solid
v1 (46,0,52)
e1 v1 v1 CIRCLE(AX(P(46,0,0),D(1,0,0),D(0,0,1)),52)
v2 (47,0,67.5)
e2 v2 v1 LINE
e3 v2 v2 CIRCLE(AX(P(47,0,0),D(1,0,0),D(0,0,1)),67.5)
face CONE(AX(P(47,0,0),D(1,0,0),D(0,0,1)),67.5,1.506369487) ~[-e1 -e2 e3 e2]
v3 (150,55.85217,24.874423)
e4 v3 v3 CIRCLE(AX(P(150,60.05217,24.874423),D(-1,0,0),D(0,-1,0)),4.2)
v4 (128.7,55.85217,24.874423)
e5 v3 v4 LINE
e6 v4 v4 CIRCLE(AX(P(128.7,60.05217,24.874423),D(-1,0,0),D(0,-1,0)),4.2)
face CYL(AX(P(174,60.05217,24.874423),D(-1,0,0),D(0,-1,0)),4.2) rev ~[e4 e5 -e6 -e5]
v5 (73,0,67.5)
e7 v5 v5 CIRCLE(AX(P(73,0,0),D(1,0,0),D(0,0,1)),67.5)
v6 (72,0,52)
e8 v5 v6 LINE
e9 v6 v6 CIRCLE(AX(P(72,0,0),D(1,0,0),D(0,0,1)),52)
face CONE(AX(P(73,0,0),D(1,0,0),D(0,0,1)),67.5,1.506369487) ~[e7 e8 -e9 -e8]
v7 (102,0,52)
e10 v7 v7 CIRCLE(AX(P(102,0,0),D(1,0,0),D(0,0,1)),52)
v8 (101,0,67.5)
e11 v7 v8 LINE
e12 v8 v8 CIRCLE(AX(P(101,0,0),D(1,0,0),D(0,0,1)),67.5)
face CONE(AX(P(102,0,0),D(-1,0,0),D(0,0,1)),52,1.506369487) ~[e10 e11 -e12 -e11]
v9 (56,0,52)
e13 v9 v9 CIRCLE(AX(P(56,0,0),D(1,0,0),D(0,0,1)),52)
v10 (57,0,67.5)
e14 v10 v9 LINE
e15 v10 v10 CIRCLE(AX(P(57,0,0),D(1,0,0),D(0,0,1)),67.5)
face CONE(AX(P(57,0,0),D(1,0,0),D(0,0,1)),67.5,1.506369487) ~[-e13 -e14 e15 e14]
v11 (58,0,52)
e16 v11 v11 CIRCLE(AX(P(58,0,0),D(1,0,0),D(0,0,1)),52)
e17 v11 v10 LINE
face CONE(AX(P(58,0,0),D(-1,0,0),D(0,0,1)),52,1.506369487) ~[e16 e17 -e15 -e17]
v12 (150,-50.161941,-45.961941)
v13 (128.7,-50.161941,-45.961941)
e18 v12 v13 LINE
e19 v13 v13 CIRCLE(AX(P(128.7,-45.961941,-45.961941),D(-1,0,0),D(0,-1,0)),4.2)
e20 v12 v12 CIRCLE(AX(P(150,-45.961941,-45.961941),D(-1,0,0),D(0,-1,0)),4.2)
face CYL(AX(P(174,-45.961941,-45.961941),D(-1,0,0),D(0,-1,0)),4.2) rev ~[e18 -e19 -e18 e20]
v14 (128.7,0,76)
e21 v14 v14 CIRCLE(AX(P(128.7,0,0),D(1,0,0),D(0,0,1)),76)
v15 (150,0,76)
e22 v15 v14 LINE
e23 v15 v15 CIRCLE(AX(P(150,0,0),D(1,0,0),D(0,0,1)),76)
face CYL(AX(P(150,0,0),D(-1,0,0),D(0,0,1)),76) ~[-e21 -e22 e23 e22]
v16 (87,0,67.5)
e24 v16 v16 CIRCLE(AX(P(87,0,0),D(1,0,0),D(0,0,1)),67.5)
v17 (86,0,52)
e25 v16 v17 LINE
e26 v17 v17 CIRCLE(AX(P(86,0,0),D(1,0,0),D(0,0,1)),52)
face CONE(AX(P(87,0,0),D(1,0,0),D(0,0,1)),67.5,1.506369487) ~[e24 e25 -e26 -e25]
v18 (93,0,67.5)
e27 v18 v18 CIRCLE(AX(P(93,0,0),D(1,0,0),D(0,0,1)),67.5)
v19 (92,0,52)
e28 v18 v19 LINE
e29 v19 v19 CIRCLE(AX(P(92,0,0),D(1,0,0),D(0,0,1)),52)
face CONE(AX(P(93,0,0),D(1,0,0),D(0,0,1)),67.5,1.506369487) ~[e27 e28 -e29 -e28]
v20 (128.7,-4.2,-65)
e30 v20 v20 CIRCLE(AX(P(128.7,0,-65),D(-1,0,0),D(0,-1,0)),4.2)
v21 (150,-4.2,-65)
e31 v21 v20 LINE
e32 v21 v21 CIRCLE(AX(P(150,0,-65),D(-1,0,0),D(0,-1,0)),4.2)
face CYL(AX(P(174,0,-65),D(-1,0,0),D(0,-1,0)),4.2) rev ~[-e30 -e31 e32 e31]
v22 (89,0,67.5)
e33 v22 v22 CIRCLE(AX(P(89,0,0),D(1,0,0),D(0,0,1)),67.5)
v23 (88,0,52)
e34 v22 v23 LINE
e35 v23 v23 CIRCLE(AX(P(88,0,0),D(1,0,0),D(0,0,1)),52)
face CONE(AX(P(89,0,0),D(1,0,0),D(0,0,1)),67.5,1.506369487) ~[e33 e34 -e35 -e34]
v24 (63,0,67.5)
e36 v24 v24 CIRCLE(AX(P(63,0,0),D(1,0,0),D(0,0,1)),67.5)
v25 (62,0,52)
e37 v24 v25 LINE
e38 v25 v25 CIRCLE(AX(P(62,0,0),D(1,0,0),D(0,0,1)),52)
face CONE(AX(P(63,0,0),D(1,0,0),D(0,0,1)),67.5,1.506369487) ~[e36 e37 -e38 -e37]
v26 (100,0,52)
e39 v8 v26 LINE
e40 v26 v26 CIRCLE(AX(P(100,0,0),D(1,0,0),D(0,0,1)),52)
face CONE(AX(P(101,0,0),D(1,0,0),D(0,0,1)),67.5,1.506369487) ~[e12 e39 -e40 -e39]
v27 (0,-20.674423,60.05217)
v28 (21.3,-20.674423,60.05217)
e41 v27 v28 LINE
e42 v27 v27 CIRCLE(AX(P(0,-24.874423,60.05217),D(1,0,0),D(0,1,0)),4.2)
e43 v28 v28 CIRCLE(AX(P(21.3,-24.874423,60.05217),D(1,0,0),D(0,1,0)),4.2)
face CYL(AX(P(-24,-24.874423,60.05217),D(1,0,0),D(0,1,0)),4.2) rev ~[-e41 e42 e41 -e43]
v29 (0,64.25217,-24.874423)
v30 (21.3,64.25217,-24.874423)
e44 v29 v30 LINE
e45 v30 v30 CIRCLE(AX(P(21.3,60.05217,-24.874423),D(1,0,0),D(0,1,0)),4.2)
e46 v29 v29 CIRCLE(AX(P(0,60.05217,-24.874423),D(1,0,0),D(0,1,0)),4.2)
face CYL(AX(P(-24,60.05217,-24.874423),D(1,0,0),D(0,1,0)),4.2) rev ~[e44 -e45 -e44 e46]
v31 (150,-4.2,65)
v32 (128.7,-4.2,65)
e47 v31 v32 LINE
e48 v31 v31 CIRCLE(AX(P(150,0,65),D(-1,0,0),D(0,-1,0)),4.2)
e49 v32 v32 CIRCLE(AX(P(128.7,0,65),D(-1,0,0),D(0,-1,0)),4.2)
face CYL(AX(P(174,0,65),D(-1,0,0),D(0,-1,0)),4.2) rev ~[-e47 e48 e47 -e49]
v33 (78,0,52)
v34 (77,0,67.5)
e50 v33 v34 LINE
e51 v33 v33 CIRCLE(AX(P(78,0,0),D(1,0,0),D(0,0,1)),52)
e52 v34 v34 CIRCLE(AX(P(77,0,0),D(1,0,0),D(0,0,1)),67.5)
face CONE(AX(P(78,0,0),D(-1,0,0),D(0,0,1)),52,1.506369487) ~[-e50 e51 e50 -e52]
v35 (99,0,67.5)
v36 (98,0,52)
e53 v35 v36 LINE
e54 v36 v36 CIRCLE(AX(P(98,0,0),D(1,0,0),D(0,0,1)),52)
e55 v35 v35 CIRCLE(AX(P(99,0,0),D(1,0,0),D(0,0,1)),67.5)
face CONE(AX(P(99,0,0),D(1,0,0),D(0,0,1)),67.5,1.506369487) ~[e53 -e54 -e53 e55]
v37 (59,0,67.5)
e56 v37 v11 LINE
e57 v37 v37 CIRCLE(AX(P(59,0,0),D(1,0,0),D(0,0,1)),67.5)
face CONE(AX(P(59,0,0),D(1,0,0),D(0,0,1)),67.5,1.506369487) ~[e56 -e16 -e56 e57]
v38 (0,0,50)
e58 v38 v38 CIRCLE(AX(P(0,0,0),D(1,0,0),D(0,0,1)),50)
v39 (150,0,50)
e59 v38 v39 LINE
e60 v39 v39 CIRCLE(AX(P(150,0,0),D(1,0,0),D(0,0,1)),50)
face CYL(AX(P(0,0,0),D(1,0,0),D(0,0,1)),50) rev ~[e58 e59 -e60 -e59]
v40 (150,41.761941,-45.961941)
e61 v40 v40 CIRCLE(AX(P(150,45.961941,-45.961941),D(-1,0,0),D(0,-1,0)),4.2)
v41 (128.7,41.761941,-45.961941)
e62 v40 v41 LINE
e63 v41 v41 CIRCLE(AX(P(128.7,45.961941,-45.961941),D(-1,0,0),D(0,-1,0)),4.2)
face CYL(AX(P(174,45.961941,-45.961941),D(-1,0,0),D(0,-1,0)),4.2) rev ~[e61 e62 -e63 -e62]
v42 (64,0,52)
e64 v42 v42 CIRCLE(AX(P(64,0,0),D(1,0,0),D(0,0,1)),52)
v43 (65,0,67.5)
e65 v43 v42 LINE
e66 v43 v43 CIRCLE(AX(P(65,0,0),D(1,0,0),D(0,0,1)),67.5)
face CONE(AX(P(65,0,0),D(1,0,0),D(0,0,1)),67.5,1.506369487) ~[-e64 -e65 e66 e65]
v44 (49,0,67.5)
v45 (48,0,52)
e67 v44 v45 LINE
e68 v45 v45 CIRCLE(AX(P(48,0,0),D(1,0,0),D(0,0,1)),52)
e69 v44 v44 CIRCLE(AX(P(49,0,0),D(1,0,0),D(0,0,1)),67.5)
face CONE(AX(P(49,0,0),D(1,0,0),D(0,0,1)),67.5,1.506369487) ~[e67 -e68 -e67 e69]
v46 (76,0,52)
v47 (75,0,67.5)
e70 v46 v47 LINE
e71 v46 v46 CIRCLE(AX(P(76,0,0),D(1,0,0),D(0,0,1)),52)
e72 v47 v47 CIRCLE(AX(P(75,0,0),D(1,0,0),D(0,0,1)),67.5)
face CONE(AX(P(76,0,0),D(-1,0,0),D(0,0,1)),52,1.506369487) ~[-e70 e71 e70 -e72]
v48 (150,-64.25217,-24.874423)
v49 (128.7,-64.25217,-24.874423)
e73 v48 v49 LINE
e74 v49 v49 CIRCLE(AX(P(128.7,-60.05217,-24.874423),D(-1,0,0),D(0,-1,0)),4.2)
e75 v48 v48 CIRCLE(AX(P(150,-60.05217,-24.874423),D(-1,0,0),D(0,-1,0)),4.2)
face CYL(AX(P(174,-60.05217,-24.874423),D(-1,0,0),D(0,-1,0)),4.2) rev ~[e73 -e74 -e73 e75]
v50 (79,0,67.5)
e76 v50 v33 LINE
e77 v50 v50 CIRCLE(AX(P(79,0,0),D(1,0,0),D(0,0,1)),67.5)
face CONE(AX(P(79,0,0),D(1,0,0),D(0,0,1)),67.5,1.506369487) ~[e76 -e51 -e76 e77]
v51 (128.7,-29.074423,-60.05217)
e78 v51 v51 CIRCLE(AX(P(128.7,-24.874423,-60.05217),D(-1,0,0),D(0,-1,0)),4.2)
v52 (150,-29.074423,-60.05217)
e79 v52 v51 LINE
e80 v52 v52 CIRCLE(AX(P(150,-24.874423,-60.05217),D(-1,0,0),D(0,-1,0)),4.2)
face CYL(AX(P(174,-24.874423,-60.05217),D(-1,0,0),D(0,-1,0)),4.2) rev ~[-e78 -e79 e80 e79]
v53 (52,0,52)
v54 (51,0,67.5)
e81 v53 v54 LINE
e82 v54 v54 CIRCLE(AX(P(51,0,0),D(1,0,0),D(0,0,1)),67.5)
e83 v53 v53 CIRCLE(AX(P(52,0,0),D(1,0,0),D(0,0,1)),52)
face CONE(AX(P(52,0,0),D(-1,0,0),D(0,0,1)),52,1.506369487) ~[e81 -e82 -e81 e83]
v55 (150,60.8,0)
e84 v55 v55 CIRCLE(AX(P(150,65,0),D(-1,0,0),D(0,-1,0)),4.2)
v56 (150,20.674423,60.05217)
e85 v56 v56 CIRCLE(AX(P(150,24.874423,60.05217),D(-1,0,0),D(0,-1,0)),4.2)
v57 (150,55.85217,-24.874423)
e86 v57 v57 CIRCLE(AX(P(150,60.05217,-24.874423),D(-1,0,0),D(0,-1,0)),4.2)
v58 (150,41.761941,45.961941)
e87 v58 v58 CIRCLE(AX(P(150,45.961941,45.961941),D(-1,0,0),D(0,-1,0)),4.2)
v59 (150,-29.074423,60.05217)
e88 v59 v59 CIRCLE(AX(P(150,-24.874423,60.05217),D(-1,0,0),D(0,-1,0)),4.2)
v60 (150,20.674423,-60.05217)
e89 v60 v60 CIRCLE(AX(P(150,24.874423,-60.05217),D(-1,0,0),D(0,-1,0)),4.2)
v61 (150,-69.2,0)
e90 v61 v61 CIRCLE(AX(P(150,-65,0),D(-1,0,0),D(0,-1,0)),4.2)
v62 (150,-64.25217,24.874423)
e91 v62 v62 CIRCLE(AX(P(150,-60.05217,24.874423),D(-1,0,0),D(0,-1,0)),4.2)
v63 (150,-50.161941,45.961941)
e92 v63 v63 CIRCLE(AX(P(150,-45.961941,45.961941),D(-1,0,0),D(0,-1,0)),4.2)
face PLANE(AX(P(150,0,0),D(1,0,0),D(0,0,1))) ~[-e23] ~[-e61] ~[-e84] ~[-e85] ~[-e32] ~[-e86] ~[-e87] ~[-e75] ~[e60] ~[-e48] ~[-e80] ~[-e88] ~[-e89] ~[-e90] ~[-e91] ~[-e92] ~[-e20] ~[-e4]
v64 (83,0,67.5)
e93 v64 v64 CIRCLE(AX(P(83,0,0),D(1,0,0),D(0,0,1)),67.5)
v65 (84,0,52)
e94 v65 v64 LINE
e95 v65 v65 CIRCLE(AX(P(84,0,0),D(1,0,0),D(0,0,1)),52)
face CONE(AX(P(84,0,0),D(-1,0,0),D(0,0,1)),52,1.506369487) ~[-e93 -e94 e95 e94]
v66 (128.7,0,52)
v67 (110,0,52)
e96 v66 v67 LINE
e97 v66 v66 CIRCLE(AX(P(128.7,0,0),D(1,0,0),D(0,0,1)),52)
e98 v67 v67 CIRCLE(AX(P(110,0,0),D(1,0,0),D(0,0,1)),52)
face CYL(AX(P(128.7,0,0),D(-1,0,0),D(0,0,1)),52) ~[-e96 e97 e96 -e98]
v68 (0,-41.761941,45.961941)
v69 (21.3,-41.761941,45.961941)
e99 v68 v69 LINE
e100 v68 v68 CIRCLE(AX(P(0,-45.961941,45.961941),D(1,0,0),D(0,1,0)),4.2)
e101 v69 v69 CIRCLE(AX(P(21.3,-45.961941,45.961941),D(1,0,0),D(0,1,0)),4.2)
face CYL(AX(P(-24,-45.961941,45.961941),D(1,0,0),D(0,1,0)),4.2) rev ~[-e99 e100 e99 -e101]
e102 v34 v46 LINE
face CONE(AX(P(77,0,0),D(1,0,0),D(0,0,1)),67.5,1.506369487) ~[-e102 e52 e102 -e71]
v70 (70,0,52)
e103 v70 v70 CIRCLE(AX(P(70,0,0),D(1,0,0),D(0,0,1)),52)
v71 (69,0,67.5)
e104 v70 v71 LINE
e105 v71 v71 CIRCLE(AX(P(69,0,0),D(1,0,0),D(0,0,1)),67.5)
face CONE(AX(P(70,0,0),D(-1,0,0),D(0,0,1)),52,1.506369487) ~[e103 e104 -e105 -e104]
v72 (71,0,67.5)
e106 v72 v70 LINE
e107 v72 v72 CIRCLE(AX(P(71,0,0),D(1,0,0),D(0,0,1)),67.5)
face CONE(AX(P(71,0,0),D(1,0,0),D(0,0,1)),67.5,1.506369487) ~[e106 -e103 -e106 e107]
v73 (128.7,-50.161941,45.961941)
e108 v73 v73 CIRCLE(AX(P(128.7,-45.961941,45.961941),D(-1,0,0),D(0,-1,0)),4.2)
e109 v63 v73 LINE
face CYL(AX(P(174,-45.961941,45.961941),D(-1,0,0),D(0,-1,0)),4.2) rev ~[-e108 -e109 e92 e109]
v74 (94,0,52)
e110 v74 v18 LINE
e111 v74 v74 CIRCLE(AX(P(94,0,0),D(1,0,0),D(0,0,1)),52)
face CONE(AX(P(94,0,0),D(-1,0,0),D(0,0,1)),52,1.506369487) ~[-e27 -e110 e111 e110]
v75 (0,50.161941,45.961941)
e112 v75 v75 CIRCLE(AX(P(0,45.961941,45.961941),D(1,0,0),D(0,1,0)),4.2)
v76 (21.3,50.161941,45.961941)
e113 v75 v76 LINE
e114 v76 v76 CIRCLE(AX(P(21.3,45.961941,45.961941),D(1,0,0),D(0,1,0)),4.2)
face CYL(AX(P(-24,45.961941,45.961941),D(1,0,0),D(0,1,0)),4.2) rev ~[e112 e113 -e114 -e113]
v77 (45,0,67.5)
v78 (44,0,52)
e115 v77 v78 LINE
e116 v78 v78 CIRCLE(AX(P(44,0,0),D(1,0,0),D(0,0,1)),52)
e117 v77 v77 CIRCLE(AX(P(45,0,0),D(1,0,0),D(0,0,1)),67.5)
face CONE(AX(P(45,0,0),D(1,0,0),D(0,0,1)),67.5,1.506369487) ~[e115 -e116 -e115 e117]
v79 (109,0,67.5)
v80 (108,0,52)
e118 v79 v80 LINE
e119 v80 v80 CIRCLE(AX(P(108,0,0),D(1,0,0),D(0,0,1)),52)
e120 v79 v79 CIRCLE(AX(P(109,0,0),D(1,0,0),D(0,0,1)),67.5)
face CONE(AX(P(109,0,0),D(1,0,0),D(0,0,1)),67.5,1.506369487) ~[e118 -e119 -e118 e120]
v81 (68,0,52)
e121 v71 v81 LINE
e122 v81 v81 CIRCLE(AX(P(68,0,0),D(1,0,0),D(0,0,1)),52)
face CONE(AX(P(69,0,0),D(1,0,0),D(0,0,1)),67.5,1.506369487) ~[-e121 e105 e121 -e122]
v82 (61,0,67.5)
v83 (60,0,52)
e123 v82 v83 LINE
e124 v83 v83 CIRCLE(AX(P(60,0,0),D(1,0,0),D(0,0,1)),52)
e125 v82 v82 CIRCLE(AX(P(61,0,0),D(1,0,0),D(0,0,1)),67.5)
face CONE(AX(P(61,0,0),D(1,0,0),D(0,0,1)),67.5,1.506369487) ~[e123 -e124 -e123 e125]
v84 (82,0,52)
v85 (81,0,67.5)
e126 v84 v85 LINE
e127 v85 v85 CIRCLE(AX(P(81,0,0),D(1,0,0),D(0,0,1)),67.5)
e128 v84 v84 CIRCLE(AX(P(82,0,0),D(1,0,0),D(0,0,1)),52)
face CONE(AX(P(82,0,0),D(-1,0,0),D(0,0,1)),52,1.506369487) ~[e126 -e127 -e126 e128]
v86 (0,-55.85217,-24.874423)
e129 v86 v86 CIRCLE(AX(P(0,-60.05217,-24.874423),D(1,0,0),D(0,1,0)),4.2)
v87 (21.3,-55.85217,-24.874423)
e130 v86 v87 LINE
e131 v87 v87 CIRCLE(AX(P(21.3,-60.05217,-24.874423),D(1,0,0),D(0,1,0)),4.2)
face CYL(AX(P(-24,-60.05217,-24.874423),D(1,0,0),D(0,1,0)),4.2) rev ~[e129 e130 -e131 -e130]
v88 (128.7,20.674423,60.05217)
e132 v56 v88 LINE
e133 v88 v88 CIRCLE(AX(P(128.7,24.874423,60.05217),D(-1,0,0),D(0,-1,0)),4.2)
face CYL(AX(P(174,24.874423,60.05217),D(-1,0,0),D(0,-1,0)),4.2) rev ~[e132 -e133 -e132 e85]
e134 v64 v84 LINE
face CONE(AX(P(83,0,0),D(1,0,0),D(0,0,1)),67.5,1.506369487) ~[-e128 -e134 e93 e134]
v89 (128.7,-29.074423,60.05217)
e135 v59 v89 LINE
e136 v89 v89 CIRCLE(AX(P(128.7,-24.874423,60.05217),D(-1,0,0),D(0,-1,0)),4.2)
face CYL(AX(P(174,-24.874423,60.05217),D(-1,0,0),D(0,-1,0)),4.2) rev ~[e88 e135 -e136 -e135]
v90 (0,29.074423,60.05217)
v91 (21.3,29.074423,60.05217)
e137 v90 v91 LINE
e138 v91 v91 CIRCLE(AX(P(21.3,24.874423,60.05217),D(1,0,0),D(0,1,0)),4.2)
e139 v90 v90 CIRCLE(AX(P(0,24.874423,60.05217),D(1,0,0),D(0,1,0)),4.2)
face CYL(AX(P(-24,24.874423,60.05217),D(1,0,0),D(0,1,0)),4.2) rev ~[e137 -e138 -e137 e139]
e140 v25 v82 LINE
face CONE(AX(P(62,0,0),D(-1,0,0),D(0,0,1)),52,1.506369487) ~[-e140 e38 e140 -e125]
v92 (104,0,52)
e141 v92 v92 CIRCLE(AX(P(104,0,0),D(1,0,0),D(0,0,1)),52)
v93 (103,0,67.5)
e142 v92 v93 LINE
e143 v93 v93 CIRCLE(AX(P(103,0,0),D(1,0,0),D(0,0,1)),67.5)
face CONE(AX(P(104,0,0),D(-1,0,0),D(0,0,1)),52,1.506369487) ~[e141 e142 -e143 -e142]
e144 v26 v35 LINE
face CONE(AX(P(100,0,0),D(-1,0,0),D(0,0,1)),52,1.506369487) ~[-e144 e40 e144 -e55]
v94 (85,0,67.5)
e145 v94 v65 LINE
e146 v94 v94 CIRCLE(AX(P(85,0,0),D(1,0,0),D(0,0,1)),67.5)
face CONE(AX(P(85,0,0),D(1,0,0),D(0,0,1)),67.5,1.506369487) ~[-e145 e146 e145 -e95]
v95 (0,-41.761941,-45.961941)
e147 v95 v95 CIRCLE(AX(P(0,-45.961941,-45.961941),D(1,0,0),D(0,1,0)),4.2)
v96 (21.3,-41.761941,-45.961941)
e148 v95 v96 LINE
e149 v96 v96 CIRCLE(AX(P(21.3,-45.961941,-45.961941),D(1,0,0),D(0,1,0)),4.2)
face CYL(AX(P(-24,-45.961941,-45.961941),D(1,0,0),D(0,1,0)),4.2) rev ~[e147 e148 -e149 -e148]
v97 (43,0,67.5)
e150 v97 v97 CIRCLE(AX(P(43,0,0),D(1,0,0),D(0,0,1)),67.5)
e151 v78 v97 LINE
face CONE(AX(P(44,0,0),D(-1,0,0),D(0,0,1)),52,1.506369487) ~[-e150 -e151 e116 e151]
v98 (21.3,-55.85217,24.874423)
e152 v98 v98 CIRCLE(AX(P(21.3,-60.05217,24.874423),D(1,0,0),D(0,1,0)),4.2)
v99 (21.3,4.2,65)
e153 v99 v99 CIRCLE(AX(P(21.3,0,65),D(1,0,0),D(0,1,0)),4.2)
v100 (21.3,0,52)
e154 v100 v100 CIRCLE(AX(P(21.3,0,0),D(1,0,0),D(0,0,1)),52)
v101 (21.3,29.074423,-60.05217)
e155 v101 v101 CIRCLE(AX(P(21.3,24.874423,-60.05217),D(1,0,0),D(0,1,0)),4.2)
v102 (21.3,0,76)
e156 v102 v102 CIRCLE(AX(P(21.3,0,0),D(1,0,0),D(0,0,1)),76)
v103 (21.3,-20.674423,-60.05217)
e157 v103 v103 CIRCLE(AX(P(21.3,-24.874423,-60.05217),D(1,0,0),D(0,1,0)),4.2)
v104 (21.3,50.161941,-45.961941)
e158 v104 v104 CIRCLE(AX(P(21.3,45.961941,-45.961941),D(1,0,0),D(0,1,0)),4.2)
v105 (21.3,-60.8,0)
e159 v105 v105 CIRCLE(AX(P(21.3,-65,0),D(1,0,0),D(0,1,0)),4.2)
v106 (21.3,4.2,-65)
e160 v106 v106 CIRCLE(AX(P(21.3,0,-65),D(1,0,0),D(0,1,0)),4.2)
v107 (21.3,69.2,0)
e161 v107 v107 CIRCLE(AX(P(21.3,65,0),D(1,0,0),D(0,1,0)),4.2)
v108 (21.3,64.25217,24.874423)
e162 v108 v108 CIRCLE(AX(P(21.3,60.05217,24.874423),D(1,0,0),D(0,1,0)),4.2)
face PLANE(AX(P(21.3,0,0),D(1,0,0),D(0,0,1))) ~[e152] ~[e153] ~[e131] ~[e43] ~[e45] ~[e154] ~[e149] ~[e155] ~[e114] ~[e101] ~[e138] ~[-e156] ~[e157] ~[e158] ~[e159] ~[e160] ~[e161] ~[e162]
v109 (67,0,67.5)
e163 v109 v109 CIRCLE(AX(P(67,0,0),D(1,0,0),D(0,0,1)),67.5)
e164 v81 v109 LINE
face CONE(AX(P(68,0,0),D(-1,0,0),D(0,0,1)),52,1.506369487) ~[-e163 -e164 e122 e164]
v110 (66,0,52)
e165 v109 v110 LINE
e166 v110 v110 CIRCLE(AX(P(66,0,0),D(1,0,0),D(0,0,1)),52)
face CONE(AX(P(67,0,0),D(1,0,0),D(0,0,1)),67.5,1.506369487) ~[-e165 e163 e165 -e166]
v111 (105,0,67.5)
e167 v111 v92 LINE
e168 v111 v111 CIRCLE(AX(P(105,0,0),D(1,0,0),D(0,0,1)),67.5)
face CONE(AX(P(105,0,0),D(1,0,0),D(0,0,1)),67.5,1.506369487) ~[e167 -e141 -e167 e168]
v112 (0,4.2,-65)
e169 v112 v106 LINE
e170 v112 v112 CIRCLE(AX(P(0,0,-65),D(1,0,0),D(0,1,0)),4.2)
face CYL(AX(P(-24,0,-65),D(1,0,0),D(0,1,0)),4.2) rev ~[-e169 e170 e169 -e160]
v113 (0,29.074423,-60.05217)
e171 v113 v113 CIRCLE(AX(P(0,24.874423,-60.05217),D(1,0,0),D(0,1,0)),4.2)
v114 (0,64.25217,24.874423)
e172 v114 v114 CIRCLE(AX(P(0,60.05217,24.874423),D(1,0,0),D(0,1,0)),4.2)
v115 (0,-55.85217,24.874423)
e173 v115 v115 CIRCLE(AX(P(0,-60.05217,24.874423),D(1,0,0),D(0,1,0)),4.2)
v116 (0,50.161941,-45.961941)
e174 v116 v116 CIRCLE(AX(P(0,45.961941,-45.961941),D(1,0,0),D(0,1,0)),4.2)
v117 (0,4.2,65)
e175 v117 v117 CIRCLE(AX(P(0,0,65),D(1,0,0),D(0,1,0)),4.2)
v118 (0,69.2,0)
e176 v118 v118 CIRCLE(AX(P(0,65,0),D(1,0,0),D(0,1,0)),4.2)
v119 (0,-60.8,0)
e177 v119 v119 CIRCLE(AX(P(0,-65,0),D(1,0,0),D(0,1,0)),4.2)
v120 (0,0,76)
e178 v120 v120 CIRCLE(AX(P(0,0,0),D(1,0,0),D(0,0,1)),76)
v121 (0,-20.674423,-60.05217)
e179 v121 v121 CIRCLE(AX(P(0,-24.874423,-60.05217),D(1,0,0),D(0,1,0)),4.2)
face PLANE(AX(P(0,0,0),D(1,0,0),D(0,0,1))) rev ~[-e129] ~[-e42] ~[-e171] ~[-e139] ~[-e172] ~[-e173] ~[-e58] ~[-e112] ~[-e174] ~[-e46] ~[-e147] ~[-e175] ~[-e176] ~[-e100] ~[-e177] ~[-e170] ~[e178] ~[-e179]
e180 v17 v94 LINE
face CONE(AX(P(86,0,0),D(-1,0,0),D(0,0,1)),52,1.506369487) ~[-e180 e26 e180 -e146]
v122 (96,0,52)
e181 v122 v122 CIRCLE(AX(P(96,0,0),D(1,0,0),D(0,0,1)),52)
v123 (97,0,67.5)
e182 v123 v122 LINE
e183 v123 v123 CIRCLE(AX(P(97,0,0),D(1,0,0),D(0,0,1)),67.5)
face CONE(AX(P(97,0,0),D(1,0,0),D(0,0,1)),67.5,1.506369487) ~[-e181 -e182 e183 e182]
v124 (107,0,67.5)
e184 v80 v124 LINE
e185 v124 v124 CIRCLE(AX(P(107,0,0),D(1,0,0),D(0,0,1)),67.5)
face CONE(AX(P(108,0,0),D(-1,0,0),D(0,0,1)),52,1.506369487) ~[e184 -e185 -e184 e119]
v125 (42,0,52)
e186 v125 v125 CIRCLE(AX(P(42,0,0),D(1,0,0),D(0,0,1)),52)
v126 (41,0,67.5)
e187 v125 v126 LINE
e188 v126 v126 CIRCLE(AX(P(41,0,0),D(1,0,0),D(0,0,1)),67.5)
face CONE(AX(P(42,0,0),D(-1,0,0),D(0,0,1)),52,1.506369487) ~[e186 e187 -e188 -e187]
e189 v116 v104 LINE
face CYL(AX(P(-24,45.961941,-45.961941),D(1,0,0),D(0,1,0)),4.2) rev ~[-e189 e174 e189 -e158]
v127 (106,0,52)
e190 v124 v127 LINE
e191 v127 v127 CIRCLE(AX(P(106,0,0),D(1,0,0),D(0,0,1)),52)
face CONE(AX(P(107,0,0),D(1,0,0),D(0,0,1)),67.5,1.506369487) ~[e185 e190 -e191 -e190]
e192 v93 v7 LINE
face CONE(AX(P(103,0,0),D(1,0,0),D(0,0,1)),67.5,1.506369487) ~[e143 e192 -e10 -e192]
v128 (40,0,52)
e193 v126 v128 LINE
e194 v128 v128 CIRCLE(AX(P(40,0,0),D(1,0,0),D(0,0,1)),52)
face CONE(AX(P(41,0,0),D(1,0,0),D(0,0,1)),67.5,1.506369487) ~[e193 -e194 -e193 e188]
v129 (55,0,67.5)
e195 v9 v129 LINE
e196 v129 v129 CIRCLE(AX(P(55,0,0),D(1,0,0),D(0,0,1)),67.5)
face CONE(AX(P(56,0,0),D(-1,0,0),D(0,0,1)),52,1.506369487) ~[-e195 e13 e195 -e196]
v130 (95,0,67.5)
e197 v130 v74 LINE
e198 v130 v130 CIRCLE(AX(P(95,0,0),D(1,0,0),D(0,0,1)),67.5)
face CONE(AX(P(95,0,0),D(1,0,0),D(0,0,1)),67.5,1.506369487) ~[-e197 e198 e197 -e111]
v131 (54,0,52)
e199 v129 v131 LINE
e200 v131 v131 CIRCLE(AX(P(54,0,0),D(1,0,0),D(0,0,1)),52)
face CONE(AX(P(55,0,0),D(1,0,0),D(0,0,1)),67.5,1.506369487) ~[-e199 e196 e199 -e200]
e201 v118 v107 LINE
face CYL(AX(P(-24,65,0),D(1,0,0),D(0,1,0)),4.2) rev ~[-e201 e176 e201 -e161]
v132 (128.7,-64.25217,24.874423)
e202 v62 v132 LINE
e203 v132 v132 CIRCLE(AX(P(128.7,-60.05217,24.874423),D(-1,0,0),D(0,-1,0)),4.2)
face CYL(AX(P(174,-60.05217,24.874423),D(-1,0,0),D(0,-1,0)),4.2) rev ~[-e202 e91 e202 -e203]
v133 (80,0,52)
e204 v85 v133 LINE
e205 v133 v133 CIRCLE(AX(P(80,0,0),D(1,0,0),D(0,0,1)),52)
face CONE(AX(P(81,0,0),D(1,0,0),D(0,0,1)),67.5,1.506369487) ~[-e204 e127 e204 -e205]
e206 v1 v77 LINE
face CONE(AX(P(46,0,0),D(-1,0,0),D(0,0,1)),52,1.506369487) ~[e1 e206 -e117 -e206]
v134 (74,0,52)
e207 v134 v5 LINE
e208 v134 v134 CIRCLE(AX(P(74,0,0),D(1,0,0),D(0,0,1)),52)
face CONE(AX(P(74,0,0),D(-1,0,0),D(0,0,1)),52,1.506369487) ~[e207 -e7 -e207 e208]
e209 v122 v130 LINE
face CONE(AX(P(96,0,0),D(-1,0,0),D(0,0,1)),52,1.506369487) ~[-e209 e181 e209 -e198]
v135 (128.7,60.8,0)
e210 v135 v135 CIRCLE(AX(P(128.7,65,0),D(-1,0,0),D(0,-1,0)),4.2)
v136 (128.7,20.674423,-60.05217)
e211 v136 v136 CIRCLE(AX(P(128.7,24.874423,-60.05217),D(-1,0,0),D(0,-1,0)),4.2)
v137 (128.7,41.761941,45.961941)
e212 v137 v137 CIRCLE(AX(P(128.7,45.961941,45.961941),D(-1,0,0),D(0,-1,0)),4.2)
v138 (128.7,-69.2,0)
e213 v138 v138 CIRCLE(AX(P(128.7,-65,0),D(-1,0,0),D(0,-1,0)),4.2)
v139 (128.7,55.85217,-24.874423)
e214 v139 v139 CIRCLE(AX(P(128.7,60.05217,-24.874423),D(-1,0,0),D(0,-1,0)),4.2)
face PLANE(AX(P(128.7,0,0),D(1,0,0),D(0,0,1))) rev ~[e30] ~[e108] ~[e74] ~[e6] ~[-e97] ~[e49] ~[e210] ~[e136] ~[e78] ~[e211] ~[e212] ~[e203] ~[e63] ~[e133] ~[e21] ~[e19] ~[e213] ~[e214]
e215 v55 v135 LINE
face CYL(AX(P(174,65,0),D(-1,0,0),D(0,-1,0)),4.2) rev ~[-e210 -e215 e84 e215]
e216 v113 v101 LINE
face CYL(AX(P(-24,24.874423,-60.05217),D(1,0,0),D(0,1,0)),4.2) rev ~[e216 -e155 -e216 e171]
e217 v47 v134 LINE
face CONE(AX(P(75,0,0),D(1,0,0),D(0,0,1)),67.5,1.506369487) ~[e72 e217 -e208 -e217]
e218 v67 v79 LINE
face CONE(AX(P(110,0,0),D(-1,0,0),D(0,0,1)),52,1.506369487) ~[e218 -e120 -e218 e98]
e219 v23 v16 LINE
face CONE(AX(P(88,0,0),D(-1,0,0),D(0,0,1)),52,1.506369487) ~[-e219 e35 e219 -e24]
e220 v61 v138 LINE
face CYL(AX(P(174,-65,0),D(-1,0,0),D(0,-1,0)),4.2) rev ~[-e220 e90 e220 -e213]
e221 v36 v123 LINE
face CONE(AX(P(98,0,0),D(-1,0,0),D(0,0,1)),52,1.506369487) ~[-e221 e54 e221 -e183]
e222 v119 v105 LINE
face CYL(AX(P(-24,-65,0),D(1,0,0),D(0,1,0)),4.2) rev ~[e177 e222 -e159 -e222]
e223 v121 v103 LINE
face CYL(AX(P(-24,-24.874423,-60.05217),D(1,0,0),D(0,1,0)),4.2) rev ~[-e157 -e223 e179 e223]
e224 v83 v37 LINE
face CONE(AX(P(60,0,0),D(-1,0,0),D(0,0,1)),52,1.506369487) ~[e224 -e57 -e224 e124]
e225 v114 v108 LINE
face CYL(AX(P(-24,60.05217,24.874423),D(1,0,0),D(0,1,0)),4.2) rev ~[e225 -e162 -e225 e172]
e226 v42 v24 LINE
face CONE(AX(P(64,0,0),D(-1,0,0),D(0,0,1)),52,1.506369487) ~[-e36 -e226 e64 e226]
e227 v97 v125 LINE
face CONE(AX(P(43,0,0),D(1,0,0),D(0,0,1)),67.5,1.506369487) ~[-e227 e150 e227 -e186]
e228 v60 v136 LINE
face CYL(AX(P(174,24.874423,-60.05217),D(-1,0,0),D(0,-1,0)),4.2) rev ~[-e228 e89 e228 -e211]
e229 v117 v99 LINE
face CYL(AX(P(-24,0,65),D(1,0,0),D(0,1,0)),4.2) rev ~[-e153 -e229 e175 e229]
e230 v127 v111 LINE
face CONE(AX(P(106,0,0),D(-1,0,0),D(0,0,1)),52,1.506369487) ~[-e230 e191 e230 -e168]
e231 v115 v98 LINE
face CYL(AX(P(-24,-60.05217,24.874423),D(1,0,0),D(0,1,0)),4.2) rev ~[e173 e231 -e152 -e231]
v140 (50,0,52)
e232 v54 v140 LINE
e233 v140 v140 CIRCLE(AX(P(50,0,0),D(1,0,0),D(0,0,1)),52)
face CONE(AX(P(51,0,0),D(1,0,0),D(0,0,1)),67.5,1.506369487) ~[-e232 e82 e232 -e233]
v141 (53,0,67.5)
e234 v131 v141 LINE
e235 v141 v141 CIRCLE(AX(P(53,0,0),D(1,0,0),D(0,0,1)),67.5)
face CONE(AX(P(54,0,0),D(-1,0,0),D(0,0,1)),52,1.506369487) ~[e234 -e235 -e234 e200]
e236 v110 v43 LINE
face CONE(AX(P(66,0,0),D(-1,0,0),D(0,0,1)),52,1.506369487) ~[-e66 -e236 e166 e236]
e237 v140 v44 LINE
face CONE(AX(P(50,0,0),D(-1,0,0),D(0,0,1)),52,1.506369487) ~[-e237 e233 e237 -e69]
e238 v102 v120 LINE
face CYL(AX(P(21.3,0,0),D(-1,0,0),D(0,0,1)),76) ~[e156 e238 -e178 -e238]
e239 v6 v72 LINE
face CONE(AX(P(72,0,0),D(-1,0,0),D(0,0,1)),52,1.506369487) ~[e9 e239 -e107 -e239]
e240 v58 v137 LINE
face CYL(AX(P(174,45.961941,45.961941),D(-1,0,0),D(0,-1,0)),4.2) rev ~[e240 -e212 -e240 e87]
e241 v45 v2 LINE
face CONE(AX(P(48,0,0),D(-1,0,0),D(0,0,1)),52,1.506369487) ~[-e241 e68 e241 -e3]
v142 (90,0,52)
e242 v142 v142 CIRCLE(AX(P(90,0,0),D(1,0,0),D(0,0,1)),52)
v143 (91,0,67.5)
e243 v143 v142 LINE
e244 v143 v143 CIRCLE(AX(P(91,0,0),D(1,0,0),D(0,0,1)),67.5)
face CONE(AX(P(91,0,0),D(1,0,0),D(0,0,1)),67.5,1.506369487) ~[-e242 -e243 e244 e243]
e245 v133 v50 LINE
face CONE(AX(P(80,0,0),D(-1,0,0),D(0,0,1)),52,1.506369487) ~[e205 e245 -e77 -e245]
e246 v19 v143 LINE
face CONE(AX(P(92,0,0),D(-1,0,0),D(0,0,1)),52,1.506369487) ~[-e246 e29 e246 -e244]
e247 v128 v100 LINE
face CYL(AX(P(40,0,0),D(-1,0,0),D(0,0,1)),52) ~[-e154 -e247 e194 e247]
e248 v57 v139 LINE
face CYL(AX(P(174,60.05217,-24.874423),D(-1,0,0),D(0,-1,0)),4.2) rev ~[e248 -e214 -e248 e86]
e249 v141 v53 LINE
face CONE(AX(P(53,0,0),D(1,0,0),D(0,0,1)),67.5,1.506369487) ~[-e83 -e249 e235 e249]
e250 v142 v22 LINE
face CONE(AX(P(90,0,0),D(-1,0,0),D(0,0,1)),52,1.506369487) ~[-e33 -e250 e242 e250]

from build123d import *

# Parameters (mm, degrees)
F4_D     = 8.4
F4_DEPTH = 24
F4_TIP   = 2.5236145999
F6_D     = 8.4
F6_DEPTH = 24
F6_TIP   = 2.5236145999


with BuildPart() as f2:
    # F0 (on Front) → F2 (revolve)
    with BuildSketch(Plane.XZ):
        Polygon((0, 76), (0, 50), (150, 50), (150, 76), (128.7, 76), (128.7, 52), (110, 52), (109, 67.5), (108, 52), (107, 67.5), (106, 52), (105, 67.5), (104, 52), (103, 67.5), (102, 52), (101, 67.5), (100, 52), (99, 67.5), (98, 52), (97, 67.5), (96, 52), (95, 67.5), (94, 52), (93, 67.5), (92, 52), (91, 67.5), (90, 52), (89, 67.5), (88, 52), (87, 67.5), (86, 52), (85, 67.5), (84, 52), (83, 67.5), (82, 52), (81, 67.5), (80, 52), (79, 67.5), (78, 52), (77, 67.5), (76, 52), (75, 67.5), (74, 52), (73, 67.5), (72, 52), (71, 67.5), (70, 52), (69, 67.5), (68, 52), (67, 67.5), (66, 52), (65, 67.5), (64, 52), (63, 67.5), (62, 52), (61, 67.5), (60, 52), (59, 67.5), (58, 52), (57, 67.5), (56, 52), (55, 67.5), (54, 52), (53, 67.5), (52, 52), (51, 67.5), (50, 52), (49, 67.5), (48, 52), (47, 67.5), (46, 52), (45, 67.5), (44, 52), (43, 67.5), (42, 52), (41, 67.5), (40, 52), (21.3, 52), (21.3, 76), align=None)
    revolve(axis=Axis((37.5205911696, 0, 0), (1, 0, 0)))

    # F4
    with Locations(Plane(origin=(0, 0, 0), x_dir=(0, -1, 0), z_dir=(-1, 0, 0))):
        with Locations((-65, 0), (60.0521696132, -24.8744231037), (45.9619407771, -45.9619407771), (24.8744231037, -60.0521696132), (0, -65), (-24.8744231037, -60.0521696132), (-45.9619407771, -45.9619407771), (-60.0521696132, -24.8744231037), (-60.0521696132, 24.8744231037), (-45.9619407771, 45.9619407771), (-24.8744231037, 60.0521696132), (0, 65), (24.8744231037, 60.0521696132), (45.9619407771, 45.9619407771), (60.0521696132, 24.8744231037), (65, 0)):
            Hole(F4_D / 2, depth=F4_DEPTH)
            with Locations((0, 0, -(F4_DEPTH + F4_TIP / 2))):  # 118° drill point
                Cone(0, F4_D / 2, F4_TIP, mode=Mode.SUBTRACT)

    # F6
    with Locations(Plane.YZ.offset(150)):
        with Locations((65, 0), (-60.0521696132, 24.8744231037), (-45.9619407771, 45.9619407771), (-24.8744231037, 60.0521696132), (0, 65), (24.8744231037, 60.0521696132), (45.9619407771, 45.9619407771), (60.0521696132, 24.8744231037), (60.0521696132, -24.8744231037), (45.9619407771, -45.9619407771), (24.8744231037, -60.0521696132), (0, -65), (-24.8744231037, -60.0521696132), (-45.9619407771, -45.9619407771), (-60.0521696132, -24.8744231037), (-65, 0)):
            Hole(F6_D / 2, depth=F6_DEPTH)
            with Locations((0, 0, -(F6_DEPTH + F6_TIP / 2))):  # 118° drill point
                Cone(0, F6_D / 2, F6_TIP, mode=Mode.SUBTRACT)


solid = f2.part
